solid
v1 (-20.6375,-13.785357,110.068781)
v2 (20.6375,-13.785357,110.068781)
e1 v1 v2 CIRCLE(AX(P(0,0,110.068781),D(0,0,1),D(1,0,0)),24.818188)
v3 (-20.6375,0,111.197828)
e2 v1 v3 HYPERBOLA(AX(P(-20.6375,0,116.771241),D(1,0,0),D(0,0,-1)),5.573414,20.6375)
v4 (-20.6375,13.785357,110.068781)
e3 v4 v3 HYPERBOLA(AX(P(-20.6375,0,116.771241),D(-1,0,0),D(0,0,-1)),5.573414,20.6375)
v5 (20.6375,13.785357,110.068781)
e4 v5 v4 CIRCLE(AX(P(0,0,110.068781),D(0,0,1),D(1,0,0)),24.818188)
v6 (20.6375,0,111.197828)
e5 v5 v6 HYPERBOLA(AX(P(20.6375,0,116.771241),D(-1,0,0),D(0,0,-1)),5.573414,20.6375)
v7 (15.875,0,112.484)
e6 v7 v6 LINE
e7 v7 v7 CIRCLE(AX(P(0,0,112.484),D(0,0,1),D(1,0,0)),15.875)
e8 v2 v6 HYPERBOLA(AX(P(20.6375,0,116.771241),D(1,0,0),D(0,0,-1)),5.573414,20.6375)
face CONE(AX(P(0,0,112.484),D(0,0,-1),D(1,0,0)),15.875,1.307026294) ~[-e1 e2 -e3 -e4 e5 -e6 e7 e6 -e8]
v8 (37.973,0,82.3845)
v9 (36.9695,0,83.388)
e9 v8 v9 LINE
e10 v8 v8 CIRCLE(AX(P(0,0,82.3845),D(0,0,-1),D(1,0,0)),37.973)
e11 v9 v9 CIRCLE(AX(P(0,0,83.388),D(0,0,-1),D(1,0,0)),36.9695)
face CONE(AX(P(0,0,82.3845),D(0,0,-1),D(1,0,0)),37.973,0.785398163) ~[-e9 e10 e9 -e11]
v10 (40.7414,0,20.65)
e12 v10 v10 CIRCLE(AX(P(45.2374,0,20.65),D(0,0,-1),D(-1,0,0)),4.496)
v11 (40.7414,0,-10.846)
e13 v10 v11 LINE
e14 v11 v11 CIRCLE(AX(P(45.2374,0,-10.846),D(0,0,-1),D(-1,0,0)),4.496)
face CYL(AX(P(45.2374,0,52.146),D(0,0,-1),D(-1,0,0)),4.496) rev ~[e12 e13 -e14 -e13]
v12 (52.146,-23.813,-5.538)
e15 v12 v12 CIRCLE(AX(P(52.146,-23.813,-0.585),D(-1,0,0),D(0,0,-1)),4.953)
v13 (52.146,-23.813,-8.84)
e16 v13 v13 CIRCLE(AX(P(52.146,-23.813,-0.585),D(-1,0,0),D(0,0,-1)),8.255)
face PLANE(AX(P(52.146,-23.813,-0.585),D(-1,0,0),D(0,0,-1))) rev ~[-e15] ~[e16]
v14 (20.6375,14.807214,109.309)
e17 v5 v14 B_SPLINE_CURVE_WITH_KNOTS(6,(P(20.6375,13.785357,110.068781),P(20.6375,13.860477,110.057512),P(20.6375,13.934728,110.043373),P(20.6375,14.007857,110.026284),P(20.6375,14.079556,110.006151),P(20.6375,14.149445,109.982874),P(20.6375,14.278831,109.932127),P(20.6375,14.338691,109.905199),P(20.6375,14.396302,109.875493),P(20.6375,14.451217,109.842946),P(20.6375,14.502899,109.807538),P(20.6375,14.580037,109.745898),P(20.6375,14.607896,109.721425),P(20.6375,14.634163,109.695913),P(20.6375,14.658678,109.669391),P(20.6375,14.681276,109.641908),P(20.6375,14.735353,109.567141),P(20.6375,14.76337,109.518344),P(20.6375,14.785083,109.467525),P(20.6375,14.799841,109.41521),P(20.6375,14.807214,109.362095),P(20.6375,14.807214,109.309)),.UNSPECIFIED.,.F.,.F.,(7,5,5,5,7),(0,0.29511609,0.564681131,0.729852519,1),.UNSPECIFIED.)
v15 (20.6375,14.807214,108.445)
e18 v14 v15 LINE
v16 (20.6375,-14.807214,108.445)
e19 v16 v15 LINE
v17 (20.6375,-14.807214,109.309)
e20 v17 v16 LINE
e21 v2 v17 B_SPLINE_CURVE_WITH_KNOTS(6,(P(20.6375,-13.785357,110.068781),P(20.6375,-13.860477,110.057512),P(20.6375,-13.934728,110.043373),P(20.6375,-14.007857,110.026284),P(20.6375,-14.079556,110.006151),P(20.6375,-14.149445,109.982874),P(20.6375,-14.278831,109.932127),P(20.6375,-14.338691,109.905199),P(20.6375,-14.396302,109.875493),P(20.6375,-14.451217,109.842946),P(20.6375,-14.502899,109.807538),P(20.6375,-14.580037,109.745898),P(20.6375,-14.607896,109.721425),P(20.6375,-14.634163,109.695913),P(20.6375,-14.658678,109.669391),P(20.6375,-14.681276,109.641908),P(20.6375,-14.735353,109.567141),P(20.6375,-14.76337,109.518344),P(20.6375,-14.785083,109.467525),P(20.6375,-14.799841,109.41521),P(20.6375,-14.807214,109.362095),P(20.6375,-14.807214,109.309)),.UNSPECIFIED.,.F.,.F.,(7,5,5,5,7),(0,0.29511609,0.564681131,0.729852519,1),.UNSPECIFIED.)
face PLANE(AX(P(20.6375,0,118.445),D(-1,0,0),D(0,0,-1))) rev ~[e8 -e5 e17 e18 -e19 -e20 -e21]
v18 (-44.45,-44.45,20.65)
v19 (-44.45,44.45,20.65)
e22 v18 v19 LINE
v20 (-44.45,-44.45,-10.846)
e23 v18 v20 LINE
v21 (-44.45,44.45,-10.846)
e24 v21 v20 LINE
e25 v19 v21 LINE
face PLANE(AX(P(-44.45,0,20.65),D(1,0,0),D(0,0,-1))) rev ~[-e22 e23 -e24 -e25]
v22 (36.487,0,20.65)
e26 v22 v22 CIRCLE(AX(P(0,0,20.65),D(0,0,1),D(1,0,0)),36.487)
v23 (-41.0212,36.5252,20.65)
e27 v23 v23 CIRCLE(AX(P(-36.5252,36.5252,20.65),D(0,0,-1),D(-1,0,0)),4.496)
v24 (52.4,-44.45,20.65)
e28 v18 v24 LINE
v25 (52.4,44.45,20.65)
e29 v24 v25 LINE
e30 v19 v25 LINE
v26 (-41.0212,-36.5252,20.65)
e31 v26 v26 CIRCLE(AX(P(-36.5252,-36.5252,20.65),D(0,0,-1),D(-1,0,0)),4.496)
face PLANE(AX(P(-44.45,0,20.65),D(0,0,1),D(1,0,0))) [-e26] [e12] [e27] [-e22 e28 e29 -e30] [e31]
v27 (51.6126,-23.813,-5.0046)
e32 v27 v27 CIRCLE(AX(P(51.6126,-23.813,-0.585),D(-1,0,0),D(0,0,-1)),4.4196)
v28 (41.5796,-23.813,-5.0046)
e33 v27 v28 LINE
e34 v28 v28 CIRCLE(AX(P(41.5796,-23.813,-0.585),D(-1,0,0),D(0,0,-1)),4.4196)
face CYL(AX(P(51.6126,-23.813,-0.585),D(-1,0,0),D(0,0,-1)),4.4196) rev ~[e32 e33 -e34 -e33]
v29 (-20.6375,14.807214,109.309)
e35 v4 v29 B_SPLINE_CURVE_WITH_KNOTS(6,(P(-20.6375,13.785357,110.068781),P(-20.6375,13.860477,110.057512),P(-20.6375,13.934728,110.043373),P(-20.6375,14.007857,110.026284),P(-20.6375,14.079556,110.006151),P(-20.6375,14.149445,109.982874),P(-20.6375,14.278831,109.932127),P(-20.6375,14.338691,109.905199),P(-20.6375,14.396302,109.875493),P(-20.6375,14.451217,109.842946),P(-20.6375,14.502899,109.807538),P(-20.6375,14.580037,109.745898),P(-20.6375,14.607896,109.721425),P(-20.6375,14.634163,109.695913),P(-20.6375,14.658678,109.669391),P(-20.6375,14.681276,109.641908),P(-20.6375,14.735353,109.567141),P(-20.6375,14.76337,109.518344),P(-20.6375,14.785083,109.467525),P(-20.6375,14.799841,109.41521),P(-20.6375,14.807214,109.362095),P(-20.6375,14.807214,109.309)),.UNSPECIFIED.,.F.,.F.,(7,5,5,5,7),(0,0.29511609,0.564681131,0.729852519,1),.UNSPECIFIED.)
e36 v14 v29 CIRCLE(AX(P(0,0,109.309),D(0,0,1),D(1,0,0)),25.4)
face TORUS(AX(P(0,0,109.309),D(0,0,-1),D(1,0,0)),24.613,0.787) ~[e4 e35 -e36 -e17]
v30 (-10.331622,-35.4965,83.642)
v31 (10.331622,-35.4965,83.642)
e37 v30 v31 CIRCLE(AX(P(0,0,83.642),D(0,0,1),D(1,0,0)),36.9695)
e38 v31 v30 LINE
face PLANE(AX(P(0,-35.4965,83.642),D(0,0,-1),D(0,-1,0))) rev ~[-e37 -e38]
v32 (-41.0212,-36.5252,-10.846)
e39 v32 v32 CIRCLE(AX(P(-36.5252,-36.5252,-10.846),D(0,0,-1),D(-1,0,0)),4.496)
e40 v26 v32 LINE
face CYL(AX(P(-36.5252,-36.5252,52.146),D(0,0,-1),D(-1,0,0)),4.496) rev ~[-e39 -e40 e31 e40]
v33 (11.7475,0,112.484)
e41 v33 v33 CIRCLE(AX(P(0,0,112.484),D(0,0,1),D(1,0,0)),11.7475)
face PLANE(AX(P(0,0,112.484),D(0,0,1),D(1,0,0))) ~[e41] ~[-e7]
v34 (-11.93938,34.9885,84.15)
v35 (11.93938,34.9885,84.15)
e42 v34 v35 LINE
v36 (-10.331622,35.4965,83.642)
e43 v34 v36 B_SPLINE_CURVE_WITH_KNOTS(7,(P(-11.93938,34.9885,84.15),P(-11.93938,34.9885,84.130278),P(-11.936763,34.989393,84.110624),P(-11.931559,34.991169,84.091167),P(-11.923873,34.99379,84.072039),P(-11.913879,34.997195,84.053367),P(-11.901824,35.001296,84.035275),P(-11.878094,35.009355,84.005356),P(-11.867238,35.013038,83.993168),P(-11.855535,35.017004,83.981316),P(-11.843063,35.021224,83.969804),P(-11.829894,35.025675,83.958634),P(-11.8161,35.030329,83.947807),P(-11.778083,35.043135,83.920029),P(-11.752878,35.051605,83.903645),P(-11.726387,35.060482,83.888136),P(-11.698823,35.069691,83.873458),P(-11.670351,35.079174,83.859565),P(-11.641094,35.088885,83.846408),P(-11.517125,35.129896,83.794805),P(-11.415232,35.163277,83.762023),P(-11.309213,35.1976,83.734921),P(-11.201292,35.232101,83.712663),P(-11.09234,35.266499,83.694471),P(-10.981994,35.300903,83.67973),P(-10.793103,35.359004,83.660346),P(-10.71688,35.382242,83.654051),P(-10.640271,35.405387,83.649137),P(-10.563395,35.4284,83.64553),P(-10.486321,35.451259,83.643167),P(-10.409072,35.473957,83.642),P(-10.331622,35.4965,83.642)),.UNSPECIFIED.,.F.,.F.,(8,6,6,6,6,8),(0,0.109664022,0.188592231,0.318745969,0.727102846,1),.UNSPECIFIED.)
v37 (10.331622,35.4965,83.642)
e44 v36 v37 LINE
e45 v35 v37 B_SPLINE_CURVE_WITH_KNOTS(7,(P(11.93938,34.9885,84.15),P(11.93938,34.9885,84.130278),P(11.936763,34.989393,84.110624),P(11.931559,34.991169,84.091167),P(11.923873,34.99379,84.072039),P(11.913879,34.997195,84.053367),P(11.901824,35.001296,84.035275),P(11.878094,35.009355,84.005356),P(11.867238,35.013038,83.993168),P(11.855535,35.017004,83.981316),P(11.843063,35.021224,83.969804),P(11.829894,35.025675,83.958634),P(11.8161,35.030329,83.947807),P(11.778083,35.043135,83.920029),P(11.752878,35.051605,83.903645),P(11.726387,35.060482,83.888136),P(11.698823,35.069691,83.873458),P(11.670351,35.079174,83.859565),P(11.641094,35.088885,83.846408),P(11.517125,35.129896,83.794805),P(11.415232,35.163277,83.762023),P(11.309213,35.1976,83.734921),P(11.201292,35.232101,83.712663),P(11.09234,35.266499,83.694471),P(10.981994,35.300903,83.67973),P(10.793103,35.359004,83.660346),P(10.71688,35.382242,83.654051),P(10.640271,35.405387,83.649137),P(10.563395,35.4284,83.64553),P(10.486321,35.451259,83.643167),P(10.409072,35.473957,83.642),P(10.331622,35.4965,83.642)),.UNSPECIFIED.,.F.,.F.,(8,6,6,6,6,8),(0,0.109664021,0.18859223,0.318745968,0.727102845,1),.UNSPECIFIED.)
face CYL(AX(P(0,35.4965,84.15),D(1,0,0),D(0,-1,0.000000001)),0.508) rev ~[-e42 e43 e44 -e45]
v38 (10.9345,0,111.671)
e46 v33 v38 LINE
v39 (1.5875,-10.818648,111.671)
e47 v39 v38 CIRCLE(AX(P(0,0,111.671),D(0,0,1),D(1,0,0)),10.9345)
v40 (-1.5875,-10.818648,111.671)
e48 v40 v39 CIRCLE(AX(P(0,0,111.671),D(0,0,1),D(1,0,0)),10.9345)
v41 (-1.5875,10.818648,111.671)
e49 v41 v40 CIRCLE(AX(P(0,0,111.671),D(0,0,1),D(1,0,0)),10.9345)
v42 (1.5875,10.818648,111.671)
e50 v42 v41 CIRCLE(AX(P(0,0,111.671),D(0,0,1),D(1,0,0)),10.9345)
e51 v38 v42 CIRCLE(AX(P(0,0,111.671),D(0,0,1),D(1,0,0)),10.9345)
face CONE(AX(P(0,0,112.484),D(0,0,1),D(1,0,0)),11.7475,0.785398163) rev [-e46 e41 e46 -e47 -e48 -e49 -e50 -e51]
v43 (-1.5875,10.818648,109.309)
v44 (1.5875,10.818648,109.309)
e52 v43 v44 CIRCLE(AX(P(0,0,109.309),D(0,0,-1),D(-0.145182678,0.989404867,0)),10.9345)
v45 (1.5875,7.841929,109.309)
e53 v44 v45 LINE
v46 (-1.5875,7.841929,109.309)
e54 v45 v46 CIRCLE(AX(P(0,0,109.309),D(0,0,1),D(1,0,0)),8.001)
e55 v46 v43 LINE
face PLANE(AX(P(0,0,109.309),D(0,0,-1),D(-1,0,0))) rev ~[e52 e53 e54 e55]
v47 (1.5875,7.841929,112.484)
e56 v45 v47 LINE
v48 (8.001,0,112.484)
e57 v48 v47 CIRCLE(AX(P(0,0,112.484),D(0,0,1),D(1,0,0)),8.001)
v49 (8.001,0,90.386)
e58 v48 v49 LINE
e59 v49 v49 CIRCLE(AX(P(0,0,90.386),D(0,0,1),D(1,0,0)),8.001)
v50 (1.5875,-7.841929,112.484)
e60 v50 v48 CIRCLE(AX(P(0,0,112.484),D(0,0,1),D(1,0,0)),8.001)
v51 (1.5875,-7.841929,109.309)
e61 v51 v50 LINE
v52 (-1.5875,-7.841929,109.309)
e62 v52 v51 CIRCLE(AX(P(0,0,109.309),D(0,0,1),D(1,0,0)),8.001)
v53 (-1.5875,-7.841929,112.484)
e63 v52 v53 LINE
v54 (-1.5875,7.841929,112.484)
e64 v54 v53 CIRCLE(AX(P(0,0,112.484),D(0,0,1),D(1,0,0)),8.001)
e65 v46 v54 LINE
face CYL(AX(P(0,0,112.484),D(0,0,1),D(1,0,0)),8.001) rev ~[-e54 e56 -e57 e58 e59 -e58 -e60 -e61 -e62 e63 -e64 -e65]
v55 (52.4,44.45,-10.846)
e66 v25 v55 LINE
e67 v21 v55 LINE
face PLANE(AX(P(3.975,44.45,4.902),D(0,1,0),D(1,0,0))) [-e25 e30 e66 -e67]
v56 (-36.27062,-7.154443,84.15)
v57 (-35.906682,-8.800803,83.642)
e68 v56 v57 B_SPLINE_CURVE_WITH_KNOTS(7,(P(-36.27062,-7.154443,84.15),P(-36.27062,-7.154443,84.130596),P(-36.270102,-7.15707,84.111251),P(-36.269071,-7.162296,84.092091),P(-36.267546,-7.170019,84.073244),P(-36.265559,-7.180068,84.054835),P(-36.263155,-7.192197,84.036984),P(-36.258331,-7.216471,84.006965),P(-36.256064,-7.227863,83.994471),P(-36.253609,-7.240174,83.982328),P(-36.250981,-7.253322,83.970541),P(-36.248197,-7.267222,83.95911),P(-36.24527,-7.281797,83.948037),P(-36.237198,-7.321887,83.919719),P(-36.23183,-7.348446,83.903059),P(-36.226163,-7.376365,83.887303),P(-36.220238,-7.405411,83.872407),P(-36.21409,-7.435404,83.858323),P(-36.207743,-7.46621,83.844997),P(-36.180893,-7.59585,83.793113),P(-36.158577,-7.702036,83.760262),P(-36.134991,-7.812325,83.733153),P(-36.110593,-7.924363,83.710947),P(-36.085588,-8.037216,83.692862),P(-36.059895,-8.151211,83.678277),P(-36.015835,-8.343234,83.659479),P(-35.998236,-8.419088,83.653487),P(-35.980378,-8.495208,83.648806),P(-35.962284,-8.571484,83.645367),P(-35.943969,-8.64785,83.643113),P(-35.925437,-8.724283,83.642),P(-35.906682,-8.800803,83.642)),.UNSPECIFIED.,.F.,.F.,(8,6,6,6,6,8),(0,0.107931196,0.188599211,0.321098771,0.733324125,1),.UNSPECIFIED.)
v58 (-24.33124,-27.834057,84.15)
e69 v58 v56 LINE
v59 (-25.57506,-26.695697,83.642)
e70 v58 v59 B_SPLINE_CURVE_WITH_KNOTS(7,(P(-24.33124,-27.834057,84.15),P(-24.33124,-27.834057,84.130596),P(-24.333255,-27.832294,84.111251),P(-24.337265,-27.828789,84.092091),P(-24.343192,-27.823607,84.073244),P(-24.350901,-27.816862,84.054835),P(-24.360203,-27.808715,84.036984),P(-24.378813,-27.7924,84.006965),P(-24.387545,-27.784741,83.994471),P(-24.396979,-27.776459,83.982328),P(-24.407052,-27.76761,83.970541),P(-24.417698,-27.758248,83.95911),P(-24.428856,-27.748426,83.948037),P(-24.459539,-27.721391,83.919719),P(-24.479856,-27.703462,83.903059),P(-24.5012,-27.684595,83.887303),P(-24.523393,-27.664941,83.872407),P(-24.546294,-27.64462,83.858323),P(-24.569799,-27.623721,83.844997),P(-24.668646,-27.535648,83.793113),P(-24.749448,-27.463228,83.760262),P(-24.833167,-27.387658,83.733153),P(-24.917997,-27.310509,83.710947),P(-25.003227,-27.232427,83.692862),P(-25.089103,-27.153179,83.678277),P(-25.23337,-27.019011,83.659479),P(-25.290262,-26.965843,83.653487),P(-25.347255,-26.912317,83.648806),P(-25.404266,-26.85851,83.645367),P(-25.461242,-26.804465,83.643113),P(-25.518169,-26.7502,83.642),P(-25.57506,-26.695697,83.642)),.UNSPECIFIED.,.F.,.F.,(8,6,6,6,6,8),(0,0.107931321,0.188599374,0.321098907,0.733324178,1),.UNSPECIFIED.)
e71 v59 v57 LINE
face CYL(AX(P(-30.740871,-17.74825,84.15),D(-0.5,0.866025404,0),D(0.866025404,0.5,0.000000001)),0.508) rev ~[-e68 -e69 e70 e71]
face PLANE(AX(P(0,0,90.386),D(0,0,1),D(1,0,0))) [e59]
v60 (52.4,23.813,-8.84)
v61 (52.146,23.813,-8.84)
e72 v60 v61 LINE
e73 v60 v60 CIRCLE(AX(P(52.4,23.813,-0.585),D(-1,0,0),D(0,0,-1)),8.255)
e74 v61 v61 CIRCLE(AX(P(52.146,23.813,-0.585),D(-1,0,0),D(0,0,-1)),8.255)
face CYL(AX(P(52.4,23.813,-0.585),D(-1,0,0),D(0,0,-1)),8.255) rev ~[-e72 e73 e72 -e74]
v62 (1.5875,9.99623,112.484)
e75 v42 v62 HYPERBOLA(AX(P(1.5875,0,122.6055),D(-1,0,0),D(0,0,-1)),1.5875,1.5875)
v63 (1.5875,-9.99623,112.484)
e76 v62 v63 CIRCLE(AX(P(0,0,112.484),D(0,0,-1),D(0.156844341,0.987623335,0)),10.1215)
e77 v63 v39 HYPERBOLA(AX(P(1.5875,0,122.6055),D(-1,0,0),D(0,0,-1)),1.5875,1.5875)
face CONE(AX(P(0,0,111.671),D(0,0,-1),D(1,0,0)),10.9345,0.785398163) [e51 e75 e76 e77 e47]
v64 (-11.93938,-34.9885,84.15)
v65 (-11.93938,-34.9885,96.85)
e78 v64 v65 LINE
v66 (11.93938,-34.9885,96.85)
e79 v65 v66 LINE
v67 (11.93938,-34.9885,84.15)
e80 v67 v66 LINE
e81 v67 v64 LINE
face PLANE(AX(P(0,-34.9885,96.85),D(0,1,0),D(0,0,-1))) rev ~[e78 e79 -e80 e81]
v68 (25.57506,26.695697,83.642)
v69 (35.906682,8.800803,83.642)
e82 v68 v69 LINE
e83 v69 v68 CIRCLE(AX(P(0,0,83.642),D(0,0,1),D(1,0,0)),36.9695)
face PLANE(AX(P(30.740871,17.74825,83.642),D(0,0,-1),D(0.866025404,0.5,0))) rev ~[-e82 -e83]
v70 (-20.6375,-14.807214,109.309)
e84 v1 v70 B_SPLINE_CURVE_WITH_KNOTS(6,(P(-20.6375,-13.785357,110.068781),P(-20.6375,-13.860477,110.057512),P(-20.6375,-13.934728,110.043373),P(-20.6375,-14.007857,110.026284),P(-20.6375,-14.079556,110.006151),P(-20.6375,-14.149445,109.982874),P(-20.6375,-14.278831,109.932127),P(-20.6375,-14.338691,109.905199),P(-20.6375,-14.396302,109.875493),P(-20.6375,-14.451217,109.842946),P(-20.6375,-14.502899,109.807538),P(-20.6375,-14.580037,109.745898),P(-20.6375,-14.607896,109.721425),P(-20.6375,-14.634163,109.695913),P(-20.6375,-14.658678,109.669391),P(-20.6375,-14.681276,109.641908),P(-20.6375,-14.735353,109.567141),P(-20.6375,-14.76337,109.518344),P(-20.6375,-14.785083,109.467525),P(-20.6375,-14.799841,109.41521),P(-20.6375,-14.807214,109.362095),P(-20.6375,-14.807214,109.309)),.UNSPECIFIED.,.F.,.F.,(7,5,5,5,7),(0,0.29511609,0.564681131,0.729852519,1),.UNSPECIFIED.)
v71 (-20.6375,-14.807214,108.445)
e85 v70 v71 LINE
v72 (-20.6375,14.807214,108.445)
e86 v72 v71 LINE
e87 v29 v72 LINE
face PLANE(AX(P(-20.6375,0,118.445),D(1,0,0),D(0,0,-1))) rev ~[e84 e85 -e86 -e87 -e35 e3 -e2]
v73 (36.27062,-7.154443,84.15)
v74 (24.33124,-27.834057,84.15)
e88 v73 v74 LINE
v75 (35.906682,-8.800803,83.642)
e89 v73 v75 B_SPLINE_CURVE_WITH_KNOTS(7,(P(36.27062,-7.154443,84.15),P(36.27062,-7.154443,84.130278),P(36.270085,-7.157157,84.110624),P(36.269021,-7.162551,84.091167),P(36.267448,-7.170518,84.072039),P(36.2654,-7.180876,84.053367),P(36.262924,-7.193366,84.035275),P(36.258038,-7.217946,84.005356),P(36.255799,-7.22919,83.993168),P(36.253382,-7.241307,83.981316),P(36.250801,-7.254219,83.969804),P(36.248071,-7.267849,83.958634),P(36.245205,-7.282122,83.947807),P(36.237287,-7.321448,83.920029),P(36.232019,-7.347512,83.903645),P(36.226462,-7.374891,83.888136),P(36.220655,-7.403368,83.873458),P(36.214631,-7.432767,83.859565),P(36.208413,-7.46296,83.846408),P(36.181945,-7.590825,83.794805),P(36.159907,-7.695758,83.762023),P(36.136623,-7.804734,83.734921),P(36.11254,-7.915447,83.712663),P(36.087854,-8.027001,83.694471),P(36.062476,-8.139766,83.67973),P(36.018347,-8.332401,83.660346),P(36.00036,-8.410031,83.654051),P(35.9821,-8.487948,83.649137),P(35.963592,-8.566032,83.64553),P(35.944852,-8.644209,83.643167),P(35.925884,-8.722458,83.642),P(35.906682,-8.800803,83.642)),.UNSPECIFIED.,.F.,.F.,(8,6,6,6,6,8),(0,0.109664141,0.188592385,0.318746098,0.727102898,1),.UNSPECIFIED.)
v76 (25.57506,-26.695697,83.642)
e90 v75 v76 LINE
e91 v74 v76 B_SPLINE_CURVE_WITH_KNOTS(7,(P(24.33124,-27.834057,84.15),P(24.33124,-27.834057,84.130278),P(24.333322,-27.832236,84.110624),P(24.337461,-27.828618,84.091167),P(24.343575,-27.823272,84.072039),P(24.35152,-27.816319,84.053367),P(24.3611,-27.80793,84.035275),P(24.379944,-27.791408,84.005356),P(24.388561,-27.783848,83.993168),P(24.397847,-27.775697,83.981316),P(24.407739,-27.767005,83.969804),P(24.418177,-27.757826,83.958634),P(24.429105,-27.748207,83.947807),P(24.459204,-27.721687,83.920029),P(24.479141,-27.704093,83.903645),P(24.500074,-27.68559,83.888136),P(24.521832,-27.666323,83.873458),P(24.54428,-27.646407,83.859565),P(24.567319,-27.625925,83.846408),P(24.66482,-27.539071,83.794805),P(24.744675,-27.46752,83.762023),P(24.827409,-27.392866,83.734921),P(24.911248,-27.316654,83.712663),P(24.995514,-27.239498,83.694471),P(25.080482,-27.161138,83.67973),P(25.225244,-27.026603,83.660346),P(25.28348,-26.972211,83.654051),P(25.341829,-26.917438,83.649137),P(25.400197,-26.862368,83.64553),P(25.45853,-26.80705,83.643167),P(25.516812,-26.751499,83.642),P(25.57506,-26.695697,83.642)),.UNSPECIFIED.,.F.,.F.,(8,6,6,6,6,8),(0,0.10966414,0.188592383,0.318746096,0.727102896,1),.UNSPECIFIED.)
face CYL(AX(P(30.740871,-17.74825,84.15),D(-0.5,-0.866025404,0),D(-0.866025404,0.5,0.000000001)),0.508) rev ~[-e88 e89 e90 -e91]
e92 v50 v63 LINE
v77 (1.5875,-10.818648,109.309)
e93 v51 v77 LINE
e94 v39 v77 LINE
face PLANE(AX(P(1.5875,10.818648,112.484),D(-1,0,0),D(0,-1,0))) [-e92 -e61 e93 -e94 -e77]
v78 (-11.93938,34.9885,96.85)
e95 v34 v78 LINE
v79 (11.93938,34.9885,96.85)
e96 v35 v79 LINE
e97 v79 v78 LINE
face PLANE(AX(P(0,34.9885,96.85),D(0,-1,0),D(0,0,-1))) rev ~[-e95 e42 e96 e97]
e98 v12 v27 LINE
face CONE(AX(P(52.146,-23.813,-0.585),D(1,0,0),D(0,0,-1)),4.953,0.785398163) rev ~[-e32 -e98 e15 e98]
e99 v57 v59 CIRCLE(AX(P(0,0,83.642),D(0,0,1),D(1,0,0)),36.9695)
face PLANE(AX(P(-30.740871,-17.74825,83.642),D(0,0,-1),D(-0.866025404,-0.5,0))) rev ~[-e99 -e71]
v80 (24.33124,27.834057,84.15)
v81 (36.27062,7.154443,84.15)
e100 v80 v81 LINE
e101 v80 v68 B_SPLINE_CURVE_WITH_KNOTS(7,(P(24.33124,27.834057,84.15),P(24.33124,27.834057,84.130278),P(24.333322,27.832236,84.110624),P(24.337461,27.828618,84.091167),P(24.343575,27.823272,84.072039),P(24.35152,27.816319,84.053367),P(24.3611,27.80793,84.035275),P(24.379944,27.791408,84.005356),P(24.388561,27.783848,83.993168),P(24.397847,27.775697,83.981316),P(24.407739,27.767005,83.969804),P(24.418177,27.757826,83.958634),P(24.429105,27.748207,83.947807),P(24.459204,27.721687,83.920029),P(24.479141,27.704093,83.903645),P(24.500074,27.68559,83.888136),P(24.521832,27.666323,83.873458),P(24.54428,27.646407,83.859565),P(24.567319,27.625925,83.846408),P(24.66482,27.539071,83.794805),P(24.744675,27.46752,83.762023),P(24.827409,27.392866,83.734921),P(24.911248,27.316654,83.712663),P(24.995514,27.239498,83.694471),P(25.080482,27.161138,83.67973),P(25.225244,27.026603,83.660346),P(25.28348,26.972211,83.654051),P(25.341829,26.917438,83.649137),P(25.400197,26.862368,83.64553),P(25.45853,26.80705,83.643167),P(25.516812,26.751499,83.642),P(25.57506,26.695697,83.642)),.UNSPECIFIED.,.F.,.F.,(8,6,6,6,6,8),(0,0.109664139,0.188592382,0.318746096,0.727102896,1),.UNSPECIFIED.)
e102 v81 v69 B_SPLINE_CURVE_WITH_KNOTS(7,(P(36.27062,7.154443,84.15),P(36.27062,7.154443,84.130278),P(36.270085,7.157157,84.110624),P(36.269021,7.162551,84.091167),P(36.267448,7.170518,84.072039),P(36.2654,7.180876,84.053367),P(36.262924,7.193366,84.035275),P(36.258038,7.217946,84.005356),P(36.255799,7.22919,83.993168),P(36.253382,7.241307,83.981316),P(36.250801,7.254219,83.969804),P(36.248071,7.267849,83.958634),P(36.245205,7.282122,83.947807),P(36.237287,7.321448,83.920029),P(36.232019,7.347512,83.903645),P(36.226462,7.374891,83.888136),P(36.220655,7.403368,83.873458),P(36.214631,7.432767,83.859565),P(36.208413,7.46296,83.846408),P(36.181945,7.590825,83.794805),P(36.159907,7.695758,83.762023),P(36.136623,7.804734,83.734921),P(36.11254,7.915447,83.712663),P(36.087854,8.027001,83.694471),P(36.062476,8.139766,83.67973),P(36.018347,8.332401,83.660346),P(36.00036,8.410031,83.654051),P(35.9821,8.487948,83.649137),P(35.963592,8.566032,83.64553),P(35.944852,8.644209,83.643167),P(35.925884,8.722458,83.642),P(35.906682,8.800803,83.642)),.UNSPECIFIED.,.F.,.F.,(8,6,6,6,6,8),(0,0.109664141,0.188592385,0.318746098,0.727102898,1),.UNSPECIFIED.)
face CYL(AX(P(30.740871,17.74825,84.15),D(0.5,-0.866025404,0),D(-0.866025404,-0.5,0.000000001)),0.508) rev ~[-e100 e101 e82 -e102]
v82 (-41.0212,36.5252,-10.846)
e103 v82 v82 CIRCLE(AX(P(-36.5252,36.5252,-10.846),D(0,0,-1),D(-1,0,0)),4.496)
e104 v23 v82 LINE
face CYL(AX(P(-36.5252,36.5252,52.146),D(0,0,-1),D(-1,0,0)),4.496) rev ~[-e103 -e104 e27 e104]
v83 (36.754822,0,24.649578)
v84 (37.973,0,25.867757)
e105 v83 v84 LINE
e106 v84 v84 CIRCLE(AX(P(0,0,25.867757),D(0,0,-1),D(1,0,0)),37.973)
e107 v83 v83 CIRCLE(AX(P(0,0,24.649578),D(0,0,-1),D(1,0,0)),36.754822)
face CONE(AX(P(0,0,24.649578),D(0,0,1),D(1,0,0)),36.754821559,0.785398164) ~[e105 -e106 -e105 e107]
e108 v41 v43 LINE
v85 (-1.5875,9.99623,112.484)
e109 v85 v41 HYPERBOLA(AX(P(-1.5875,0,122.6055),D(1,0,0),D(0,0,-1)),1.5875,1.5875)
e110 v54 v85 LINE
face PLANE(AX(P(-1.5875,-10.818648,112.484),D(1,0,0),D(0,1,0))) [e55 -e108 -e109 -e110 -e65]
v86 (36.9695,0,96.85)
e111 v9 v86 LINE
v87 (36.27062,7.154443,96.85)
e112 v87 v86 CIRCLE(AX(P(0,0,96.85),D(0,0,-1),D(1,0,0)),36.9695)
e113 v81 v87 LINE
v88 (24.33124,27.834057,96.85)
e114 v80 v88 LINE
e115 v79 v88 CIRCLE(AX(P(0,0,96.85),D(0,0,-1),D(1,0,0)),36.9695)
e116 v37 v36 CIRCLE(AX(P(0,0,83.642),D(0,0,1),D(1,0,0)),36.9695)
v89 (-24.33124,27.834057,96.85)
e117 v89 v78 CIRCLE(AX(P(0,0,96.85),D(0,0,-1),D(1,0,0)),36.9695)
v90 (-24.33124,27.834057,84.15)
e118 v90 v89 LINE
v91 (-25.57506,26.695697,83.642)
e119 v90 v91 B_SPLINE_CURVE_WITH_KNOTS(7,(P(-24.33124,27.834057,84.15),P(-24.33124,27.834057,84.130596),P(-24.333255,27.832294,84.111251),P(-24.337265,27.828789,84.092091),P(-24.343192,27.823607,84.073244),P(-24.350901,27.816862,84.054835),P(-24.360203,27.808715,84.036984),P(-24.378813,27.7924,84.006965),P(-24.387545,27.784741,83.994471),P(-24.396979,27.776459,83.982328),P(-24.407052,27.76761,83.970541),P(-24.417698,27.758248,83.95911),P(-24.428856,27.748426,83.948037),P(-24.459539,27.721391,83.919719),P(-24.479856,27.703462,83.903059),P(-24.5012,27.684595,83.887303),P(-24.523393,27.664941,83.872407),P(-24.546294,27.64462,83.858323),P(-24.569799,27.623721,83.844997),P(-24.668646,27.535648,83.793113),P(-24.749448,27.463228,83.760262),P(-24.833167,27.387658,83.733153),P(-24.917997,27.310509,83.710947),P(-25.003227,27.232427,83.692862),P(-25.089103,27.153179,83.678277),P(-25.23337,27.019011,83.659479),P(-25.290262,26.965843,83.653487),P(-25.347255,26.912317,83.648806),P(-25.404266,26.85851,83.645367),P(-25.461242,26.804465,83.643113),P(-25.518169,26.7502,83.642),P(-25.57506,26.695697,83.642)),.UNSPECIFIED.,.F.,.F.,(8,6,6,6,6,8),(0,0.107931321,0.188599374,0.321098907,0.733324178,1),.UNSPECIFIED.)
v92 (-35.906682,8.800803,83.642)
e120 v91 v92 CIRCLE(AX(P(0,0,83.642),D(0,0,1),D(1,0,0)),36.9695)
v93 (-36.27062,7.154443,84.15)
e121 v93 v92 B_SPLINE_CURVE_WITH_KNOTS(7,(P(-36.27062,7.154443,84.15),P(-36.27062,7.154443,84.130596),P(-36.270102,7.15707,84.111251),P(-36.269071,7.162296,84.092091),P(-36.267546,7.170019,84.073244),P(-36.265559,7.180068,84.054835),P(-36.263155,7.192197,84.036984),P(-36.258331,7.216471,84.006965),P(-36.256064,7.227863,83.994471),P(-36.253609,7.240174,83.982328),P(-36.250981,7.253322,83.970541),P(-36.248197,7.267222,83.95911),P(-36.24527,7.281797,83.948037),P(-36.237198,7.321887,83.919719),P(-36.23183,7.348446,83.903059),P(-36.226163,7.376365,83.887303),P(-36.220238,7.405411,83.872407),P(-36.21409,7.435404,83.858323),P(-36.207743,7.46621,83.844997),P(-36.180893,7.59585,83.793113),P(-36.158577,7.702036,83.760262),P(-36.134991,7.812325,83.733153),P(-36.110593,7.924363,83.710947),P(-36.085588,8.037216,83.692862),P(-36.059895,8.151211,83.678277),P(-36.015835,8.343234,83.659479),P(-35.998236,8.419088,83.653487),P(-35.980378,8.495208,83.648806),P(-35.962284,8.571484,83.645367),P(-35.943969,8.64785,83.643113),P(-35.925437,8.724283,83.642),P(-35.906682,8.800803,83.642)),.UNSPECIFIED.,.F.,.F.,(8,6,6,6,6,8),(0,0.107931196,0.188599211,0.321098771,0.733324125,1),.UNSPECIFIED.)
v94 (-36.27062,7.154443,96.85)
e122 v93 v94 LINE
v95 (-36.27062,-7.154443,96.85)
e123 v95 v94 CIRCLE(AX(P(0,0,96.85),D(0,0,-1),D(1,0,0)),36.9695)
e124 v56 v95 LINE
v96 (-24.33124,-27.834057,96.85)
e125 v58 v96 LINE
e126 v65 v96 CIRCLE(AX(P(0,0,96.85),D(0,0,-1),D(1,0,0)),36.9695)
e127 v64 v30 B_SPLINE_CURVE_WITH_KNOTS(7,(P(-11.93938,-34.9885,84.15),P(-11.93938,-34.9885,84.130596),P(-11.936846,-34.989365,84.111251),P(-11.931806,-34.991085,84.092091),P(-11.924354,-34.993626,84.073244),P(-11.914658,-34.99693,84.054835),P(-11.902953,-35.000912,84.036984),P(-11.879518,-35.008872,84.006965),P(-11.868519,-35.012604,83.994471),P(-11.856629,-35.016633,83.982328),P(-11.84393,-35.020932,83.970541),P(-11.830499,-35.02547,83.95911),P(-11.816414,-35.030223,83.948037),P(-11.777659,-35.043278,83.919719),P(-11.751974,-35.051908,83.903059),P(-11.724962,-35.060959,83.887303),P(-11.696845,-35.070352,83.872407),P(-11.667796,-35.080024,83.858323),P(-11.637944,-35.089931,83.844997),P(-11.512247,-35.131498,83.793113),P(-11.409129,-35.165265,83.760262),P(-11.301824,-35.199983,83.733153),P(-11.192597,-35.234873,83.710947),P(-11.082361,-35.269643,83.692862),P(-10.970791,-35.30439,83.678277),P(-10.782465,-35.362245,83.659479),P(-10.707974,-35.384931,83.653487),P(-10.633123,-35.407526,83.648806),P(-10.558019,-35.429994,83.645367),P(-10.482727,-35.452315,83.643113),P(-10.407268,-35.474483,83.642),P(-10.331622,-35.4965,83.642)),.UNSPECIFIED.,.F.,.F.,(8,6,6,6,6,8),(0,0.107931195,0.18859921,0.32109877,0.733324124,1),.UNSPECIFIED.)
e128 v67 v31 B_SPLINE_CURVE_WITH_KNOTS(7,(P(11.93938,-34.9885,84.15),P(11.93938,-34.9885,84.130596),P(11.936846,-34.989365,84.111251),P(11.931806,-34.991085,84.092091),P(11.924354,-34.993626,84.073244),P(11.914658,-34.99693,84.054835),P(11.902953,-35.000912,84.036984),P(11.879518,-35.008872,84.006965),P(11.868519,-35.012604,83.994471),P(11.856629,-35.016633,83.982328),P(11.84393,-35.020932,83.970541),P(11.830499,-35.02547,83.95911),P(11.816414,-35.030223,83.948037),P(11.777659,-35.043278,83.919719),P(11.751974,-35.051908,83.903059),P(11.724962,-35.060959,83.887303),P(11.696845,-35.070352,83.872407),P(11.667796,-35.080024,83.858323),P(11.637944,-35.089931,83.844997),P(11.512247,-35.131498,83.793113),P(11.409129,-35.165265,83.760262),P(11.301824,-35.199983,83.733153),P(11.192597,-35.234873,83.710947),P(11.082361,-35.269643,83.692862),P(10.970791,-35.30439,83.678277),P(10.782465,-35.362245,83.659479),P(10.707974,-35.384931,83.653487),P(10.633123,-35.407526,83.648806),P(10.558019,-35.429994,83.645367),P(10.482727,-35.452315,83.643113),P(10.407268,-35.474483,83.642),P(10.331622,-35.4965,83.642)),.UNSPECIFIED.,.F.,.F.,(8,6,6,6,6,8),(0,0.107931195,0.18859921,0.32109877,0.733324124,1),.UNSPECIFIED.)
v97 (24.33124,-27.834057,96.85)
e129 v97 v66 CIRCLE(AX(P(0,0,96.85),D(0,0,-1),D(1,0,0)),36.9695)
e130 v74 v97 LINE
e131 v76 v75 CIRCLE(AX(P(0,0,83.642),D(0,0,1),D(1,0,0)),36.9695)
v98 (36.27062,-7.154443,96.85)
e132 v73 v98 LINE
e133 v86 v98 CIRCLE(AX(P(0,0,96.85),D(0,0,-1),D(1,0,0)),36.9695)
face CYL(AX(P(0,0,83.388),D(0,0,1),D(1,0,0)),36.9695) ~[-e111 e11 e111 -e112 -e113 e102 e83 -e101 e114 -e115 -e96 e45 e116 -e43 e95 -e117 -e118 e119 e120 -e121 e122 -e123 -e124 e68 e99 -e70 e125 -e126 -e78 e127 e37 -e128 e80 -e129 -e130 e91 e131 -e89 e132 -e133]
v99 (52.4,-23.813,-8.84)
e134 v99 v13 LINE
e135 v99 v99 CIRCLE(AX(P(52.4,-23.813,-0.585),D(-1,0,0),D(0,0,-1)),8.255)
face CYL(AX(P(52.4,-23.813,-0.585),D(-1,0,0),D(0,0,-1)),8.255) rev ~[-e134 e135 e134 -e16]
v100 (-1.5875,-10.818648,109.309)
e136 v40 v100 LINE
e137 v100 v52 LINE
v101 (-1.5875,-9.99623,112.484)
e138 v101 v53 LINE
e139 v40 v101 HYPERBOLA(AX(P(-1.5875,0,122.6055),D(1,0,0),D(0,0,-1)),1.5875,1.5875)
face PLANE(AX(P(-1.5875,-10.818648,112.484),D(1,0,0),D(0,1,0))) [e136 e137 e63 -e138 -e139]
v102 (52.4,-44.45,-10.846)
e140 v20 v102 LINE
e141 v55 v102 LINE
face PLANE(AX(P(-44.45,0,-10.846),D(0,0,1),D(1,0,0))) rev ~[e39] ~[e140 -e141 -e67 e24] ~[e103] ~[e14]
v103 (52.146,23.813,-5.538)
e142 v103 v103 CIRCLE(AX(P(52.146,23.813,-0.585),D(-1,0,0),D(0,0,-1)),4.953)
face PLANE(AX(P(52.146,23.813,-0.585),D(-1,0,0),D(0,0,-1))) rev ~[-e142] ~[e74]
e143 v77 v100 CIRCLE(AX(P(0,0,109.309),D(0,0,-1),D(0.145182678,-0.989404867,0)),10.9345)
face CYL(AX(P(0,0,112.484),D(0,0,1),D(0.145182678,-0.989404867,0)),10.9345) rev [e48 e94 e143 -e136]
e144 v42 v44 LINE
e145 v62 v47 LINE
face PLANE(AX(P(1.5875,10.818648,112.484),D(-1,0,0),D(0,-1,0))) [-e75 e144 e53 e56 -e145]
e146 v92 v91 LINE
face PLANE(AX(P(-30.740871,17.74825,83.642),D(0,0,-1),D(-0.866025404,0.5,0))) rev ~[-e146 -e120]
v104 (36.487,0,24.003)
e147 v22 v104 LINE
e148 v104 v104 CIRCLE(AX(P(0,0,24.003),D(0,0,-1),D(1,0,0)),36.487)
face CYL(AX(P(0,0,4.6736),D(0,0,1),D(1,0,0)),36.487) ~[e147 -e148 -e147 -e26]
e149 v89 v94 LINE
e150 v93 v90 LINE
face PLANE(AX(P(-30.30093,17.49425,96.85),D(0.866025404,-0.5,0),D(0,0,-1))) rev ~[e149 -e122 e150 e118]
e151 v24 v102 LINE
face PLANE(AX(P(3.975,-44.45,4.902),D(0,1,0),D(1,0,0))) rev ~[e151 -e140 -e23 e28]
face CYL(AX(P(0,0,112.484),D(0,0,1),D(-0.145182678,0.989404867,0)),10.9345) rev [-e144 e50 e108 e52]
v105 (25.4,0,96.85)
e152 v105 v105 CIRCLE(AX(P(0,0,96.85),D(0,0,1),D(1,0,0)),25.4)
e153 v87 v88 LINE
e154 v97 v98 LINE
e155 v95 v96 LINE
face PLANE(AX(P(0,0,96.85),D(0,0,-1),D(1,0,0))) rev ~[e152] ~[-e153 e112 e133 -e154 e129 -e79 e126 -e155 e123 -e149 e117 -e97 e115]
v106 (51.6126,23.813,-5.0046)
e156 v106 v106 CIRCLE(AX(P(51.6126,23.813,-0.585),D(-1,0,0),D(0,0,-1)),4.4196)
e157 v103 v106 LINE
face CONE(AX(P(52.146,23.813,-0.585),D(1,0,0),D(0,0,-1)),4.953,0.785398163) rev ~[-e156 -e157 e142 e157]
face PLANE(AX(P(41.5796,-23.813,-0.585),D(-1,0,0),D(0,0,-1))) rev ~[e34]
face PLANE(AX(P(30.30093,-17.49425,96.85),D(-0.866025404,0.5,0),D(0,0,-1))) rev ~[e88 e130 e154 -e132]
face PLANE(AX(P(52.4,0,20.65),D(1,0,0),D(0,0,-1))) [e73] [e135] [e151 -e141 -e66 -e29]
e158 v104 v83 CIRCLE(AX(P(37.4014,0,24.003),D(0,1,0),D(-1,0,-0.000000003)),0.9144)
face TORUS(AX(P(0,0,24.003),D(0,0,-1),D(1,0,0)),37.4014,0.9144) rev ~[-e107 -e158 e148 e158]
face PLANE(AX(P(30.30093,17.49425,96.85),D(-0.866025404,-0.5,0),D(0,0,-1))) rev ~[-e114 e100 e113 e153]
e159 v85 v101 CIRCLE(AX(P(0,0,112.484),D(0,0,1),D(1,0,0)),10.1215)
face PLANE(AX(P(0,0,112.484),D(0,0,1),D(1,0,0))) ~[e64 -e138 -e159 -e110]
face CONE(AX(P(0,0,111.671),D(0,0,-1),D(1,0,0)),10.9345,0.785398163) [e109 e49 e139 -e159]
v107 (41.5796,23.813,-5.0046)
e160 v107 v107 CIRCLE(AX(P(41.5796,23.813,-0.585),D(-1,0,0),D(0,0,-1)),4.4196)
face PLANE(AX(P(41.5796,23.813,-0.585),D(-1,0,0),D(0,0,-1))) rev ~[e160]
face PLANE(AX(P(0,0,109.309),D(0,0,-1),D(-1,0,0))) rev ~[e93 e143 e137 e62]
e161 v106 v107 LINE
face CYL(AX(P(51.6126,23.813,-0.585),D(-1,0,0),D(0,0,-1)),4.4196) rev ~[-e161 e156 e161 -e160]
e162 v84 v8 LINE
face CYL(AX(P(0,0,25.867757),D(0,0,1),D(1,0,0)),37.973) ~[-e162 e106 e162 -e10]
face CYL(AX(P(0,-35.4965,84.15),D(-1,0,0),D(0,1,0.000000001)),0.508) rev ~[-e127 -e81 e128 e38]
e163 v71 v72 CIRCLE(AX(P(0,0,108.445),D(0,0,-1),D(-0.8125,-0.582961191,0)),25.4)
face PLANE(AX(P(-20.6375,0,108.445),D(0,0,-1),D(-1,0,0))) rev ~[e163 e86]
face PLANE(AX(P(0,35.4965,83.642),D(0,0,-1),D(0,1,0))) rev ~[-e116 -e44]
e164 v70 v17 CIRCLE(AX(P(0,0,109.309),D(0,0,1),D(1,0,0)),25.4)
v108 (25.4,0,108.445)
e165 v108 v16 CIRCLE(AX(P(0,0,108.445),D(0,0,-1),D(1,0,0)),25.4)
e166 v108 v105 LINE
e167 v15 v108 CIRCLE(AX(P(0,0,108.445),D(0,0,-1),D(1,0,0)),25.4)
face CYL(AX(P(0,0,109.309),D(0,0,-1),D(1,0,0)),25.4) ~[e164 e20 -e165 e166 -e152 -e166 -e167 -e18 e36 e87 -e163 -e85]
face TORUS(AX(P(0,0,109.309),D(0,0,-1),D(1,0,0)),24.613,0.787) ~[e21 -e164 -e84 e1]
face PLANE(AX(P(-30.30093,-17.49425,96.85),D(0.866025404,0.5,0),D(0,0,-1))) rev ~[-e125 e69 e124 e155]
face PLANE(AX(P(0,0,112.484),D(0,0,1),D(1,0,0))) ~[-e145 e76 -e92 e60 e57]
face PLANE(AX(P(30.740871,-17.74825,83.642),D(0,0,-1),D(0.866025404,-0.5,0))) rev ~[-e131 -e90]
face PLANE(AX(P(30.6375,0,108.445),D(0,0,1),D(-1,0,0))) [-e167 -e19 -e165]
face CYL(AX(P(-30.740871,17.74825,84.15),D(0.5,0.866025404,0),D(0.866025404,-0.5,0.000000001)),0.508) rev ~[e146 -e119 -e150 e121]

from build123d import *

# Parameters (mm, degrees)
CUT_EXTRUDE1_DEPTH      = 38.973
CIRPATTERN1_COUNT       = 6
SKETCH6_W               = 96.85
SKETCH6_H               = 31.496
EXTRUDE1_DEPTH          = 44.45
SKETCH4_R               = 8.001
CUT_EXTRUDE2_DEPTH      = 22.098
HOLE1_D                 = 8.992
HOLE1_DEPTH             = 31.496
LPATTERN1_COUNT         = 2
LPATTERN1_PITCH         = 47.626
SKETCH12_W              = 10
SKETCH12_H              = 10
CUT_EXTRUDE3_DEPTH      = 45.45
CUT_EXTRUDE3_DEPTH_BACK = 45.45
CUT_EXTRUDE4_DEPTH      = 3.175


with BuildPart() as part:
    # Sketch1 → Revolve1 (revolve)
    with BuildSketch(Plane(origin=(0, 0, 0), x_dir=(0, 0, -1), z_dir=(1, 0, 0)), mode=Mode.PRIVATE) as revolve1_sk:
        with BuildLine():
            Line((0, 0), (0, 13.9954))
            Line((0, 13.9954), (-4.6736, 13.9954))
            Line((-4.6736, 13.9954), (-4.6736, 36.487))
            Line((-4.6736, 36.487), (-24.003, 36.487))
            ThreePointArc((-24.003, 36.487), (-24.352925731, 36.556604555), (-24.649578441, 36.754821559))
            Line((-24.649578441, 36.754821559), (-25.867756881, 37.973))
            Line((-25.867756881, 37.973), (-82.3845, 37.973))
            Line((-82.3845, 37.973), (-83.388, 36.9695))
            Line((-83.388, 36.9695), (-96.85, 36.9695))
            Line((-96.85, 36.9695), (-96.85, 0))
            Line((-96.85, 0), (0, 0))
        make_face()
    revolve(revolve1_sk.sketch.rotate(Axis((0, 0, 0), (0, 0, -1)), 90), axis=Axis((0, 0, 0), (0, 0, -1)))  # turned: the seam where the file's is

    # Sketch2 → Cut-Extrude1 (cut, symmetric)
    with BuildSketch(Plane(origin=(0, 0, 0), x_dir=(0, 0, -1), z_dir=(1, 0, 0))):
        with BuildLine():
            Line((-96.85, 34.9885), (-84.15, 34.9885))
            ThreePointArc((-84.15, 34.9885), (-83.790789755, 35.137289755), (-83.642, 35.4965))
            Line((-83.642, 35.4965), (-83.642, 38.1635))
            Line((-83.642, 38.1635), (-96.85, 38.1635))
            Line((-96.85, 38.1635), (-96.85, 34.9885))
        make_face()
    cut_extrude1 = extrude(amount=CUT_EXTRUDE1_DEPTH, both=True, mode=Mode.SUBTRACT)

    # CirPattern1: Cut-Extrude1 ×6 about axis
    cirpattern1_axis = Axis((0, 0, 0), (0, 0, 1))
    for i in range(1, CIRPATTERN1_COUNT):
        add(cut_extrude1.rotate(cirpattern1_axis, i * 360 / CIRPATTERN1_COUNT), mode=Mode.SUBTRACT)

    # Sketch6 → Extrude1 (add, symmetric)
    with BuildSketch(Plane(origin=(0, 0, 0), x_dir=(1, 0, 0), z_dir=(0, 1, 0))):
        with Locations((3.975, -4.902)):
            Rectangle(SKETCH6_W, SKETCH6_H)
    extrude(amount=EXTRUDE1_DEPTH, both=True)

    # Sketch3 → Revolve2 (revolve)
    with BuildSketch(Plane(origin=(0, 0, 0), x_dir=(0, 0, -1), z_dir=(1, 0, 0)), mode=Mode.PRIVATE) as revolve2_sk:
        with BuildLine():
            Line((-112.484, 0), (-112.484, 15.875))
            Line((-112.484, 15.875), (-110.068780748, 24.818188244))
            ThreePointArc((-110.068780748, 24.818188244), (-109.787479807, 25.237840839), (-109.309, 25.4))
            Line((-109.309, 25.4), (-96.85, 25.4))
            Line((-96.85, 25.4), (-96.85, 0))
            Line((-96.85, 0), (-112.484, 0))
        make_face()
    revolve(revolve2_sk.sketch.rotate(Axis((0, 0, 0), (0, 0, 1)), 270), axis=Axis((0, 0, 0), (0, 0, 1)))  # turned: the seam where the file's is

    # Sketch4 → Cut-Extrude2 (cut)
    with BuildSketch(Plane.XY.offset(112.484)):
        Circle(SKETCH4_R)
    extrude(amount=-CUT_EXTRUDE2_DEPTH, mode=Mode.SUBTRACT)

    # Hole1
    with Locations(Plane.XY.offset(20.65)):
        with Locations((-36.5252, 36.5252), (-36.5252, -36.5252), (45.2374, 0)):
            Hole(HOLE1_D / 2, depth=HOLE1_DEPTH)

    # Sketch9 → Cut-Revolve2 (revolve, cut)
    with BuildSketch(Plane(origin=(0, -23.813, 0), x_dir=(-1, 0, 0), z_dir=(0, 1, 0)), mode=Mode.PRIVATE) as cut_revolve2_sk:
        Polygon((-52.4, 7.67), (-52.146, 7.67), (-52.146, 4.368), (-51.6126, 3.8346), (-41.5796, 3.8346), (-41.5796, -0.585), (-52.4, -0.585), align=None)
    cut_revolve2 = revolve(cut_revolve2_sk.sketch.rotate(Axis((52.4, -23.813, -0.585), (-1, 0, 0)), 180), axis=Axis((52.4, -23.813, -0.585), (-1, 0, 0)), mode=Mode.SUBTRACT)  # turned: the seam where the file's is

    # LPattern1: Cut-Revolve2 ×2
    with Locations(*[(0, i * LPATTERN1_PITCH, 0) for i in range(1, LPATTERN1_COUNT)]):
        add(cut_revolve2, mode=Mode.SUBTRACT)

    # Sketch12 → Cut-Extrude3 (cut, two sides)
    with BuildSketch(Plane(origin=(0, 0, 0), x_dir=(0, 0, -1), z_dir=(0, 1, 0))) as cut_extrude3_sk:
        with Locations((-113.445, 25.6375)):
            Rectangle(SKETCH12_W, SKETCH12_H)
        with Locations((-113.445, -25.6375)):
            Rectangle(SKETCH12_W, SKETCH12_H)
    extrude(amount=CUT_EXTRUDE3_DEPTH, mode=Mode.SUBTRACT)
    extrude(cut_extrude3_sk.sketch, amount=-CUT_EXTRUDE3_DEPTH_BACK, mode=Mode.SUBTRACT)

    # Sketch13 → Cut-Revolve4 (revolve, cut)
    with BuildSketch(Plane(origin=(0, 0, 0), x_dir=(0, 0, -1), z_dir=(1, 0, 0)), mode=Mode.PRIVATE) as cut_revolve4_sk:
        Polygon((-112.484, 11.7475), (-111.671, 10.9345), (-112.484, 10.1215), align=None)
    revolve(cut_revolve4_sk.sketch.rotate(Axis((0, 0, 0), (0, 0, 1)), 270), axis=Axis((0, 0, 0), (0, 0, 1)), mode=Mode.SUBTRACT)  # turned: the seam where the file's is

    # Sketch14 → Cut-Extrude4 (cut)
    with BuildSketch(Plane.XY.offset(112.484)):
        with BuildLine():
            Line((-1.5875, -10.818647513), (-1.5875, 10.818647513))
            ThreePointArc((-1.5875, 10.818647513), (0, 10.9345), (1.5875, 10.818647513))
            Line((1.5875, 10.818647513), (1.5875, -10.818647513))
            ThreePointArc((1.5875, -10.818647513), (0, -10.9345), (-1.5875, -10.818647513))
        make_face()
    extrude(amount=-CUT_EXTRUDE4_DEPTH, mode=Mode.SUBTRACT)


solid = part.part
